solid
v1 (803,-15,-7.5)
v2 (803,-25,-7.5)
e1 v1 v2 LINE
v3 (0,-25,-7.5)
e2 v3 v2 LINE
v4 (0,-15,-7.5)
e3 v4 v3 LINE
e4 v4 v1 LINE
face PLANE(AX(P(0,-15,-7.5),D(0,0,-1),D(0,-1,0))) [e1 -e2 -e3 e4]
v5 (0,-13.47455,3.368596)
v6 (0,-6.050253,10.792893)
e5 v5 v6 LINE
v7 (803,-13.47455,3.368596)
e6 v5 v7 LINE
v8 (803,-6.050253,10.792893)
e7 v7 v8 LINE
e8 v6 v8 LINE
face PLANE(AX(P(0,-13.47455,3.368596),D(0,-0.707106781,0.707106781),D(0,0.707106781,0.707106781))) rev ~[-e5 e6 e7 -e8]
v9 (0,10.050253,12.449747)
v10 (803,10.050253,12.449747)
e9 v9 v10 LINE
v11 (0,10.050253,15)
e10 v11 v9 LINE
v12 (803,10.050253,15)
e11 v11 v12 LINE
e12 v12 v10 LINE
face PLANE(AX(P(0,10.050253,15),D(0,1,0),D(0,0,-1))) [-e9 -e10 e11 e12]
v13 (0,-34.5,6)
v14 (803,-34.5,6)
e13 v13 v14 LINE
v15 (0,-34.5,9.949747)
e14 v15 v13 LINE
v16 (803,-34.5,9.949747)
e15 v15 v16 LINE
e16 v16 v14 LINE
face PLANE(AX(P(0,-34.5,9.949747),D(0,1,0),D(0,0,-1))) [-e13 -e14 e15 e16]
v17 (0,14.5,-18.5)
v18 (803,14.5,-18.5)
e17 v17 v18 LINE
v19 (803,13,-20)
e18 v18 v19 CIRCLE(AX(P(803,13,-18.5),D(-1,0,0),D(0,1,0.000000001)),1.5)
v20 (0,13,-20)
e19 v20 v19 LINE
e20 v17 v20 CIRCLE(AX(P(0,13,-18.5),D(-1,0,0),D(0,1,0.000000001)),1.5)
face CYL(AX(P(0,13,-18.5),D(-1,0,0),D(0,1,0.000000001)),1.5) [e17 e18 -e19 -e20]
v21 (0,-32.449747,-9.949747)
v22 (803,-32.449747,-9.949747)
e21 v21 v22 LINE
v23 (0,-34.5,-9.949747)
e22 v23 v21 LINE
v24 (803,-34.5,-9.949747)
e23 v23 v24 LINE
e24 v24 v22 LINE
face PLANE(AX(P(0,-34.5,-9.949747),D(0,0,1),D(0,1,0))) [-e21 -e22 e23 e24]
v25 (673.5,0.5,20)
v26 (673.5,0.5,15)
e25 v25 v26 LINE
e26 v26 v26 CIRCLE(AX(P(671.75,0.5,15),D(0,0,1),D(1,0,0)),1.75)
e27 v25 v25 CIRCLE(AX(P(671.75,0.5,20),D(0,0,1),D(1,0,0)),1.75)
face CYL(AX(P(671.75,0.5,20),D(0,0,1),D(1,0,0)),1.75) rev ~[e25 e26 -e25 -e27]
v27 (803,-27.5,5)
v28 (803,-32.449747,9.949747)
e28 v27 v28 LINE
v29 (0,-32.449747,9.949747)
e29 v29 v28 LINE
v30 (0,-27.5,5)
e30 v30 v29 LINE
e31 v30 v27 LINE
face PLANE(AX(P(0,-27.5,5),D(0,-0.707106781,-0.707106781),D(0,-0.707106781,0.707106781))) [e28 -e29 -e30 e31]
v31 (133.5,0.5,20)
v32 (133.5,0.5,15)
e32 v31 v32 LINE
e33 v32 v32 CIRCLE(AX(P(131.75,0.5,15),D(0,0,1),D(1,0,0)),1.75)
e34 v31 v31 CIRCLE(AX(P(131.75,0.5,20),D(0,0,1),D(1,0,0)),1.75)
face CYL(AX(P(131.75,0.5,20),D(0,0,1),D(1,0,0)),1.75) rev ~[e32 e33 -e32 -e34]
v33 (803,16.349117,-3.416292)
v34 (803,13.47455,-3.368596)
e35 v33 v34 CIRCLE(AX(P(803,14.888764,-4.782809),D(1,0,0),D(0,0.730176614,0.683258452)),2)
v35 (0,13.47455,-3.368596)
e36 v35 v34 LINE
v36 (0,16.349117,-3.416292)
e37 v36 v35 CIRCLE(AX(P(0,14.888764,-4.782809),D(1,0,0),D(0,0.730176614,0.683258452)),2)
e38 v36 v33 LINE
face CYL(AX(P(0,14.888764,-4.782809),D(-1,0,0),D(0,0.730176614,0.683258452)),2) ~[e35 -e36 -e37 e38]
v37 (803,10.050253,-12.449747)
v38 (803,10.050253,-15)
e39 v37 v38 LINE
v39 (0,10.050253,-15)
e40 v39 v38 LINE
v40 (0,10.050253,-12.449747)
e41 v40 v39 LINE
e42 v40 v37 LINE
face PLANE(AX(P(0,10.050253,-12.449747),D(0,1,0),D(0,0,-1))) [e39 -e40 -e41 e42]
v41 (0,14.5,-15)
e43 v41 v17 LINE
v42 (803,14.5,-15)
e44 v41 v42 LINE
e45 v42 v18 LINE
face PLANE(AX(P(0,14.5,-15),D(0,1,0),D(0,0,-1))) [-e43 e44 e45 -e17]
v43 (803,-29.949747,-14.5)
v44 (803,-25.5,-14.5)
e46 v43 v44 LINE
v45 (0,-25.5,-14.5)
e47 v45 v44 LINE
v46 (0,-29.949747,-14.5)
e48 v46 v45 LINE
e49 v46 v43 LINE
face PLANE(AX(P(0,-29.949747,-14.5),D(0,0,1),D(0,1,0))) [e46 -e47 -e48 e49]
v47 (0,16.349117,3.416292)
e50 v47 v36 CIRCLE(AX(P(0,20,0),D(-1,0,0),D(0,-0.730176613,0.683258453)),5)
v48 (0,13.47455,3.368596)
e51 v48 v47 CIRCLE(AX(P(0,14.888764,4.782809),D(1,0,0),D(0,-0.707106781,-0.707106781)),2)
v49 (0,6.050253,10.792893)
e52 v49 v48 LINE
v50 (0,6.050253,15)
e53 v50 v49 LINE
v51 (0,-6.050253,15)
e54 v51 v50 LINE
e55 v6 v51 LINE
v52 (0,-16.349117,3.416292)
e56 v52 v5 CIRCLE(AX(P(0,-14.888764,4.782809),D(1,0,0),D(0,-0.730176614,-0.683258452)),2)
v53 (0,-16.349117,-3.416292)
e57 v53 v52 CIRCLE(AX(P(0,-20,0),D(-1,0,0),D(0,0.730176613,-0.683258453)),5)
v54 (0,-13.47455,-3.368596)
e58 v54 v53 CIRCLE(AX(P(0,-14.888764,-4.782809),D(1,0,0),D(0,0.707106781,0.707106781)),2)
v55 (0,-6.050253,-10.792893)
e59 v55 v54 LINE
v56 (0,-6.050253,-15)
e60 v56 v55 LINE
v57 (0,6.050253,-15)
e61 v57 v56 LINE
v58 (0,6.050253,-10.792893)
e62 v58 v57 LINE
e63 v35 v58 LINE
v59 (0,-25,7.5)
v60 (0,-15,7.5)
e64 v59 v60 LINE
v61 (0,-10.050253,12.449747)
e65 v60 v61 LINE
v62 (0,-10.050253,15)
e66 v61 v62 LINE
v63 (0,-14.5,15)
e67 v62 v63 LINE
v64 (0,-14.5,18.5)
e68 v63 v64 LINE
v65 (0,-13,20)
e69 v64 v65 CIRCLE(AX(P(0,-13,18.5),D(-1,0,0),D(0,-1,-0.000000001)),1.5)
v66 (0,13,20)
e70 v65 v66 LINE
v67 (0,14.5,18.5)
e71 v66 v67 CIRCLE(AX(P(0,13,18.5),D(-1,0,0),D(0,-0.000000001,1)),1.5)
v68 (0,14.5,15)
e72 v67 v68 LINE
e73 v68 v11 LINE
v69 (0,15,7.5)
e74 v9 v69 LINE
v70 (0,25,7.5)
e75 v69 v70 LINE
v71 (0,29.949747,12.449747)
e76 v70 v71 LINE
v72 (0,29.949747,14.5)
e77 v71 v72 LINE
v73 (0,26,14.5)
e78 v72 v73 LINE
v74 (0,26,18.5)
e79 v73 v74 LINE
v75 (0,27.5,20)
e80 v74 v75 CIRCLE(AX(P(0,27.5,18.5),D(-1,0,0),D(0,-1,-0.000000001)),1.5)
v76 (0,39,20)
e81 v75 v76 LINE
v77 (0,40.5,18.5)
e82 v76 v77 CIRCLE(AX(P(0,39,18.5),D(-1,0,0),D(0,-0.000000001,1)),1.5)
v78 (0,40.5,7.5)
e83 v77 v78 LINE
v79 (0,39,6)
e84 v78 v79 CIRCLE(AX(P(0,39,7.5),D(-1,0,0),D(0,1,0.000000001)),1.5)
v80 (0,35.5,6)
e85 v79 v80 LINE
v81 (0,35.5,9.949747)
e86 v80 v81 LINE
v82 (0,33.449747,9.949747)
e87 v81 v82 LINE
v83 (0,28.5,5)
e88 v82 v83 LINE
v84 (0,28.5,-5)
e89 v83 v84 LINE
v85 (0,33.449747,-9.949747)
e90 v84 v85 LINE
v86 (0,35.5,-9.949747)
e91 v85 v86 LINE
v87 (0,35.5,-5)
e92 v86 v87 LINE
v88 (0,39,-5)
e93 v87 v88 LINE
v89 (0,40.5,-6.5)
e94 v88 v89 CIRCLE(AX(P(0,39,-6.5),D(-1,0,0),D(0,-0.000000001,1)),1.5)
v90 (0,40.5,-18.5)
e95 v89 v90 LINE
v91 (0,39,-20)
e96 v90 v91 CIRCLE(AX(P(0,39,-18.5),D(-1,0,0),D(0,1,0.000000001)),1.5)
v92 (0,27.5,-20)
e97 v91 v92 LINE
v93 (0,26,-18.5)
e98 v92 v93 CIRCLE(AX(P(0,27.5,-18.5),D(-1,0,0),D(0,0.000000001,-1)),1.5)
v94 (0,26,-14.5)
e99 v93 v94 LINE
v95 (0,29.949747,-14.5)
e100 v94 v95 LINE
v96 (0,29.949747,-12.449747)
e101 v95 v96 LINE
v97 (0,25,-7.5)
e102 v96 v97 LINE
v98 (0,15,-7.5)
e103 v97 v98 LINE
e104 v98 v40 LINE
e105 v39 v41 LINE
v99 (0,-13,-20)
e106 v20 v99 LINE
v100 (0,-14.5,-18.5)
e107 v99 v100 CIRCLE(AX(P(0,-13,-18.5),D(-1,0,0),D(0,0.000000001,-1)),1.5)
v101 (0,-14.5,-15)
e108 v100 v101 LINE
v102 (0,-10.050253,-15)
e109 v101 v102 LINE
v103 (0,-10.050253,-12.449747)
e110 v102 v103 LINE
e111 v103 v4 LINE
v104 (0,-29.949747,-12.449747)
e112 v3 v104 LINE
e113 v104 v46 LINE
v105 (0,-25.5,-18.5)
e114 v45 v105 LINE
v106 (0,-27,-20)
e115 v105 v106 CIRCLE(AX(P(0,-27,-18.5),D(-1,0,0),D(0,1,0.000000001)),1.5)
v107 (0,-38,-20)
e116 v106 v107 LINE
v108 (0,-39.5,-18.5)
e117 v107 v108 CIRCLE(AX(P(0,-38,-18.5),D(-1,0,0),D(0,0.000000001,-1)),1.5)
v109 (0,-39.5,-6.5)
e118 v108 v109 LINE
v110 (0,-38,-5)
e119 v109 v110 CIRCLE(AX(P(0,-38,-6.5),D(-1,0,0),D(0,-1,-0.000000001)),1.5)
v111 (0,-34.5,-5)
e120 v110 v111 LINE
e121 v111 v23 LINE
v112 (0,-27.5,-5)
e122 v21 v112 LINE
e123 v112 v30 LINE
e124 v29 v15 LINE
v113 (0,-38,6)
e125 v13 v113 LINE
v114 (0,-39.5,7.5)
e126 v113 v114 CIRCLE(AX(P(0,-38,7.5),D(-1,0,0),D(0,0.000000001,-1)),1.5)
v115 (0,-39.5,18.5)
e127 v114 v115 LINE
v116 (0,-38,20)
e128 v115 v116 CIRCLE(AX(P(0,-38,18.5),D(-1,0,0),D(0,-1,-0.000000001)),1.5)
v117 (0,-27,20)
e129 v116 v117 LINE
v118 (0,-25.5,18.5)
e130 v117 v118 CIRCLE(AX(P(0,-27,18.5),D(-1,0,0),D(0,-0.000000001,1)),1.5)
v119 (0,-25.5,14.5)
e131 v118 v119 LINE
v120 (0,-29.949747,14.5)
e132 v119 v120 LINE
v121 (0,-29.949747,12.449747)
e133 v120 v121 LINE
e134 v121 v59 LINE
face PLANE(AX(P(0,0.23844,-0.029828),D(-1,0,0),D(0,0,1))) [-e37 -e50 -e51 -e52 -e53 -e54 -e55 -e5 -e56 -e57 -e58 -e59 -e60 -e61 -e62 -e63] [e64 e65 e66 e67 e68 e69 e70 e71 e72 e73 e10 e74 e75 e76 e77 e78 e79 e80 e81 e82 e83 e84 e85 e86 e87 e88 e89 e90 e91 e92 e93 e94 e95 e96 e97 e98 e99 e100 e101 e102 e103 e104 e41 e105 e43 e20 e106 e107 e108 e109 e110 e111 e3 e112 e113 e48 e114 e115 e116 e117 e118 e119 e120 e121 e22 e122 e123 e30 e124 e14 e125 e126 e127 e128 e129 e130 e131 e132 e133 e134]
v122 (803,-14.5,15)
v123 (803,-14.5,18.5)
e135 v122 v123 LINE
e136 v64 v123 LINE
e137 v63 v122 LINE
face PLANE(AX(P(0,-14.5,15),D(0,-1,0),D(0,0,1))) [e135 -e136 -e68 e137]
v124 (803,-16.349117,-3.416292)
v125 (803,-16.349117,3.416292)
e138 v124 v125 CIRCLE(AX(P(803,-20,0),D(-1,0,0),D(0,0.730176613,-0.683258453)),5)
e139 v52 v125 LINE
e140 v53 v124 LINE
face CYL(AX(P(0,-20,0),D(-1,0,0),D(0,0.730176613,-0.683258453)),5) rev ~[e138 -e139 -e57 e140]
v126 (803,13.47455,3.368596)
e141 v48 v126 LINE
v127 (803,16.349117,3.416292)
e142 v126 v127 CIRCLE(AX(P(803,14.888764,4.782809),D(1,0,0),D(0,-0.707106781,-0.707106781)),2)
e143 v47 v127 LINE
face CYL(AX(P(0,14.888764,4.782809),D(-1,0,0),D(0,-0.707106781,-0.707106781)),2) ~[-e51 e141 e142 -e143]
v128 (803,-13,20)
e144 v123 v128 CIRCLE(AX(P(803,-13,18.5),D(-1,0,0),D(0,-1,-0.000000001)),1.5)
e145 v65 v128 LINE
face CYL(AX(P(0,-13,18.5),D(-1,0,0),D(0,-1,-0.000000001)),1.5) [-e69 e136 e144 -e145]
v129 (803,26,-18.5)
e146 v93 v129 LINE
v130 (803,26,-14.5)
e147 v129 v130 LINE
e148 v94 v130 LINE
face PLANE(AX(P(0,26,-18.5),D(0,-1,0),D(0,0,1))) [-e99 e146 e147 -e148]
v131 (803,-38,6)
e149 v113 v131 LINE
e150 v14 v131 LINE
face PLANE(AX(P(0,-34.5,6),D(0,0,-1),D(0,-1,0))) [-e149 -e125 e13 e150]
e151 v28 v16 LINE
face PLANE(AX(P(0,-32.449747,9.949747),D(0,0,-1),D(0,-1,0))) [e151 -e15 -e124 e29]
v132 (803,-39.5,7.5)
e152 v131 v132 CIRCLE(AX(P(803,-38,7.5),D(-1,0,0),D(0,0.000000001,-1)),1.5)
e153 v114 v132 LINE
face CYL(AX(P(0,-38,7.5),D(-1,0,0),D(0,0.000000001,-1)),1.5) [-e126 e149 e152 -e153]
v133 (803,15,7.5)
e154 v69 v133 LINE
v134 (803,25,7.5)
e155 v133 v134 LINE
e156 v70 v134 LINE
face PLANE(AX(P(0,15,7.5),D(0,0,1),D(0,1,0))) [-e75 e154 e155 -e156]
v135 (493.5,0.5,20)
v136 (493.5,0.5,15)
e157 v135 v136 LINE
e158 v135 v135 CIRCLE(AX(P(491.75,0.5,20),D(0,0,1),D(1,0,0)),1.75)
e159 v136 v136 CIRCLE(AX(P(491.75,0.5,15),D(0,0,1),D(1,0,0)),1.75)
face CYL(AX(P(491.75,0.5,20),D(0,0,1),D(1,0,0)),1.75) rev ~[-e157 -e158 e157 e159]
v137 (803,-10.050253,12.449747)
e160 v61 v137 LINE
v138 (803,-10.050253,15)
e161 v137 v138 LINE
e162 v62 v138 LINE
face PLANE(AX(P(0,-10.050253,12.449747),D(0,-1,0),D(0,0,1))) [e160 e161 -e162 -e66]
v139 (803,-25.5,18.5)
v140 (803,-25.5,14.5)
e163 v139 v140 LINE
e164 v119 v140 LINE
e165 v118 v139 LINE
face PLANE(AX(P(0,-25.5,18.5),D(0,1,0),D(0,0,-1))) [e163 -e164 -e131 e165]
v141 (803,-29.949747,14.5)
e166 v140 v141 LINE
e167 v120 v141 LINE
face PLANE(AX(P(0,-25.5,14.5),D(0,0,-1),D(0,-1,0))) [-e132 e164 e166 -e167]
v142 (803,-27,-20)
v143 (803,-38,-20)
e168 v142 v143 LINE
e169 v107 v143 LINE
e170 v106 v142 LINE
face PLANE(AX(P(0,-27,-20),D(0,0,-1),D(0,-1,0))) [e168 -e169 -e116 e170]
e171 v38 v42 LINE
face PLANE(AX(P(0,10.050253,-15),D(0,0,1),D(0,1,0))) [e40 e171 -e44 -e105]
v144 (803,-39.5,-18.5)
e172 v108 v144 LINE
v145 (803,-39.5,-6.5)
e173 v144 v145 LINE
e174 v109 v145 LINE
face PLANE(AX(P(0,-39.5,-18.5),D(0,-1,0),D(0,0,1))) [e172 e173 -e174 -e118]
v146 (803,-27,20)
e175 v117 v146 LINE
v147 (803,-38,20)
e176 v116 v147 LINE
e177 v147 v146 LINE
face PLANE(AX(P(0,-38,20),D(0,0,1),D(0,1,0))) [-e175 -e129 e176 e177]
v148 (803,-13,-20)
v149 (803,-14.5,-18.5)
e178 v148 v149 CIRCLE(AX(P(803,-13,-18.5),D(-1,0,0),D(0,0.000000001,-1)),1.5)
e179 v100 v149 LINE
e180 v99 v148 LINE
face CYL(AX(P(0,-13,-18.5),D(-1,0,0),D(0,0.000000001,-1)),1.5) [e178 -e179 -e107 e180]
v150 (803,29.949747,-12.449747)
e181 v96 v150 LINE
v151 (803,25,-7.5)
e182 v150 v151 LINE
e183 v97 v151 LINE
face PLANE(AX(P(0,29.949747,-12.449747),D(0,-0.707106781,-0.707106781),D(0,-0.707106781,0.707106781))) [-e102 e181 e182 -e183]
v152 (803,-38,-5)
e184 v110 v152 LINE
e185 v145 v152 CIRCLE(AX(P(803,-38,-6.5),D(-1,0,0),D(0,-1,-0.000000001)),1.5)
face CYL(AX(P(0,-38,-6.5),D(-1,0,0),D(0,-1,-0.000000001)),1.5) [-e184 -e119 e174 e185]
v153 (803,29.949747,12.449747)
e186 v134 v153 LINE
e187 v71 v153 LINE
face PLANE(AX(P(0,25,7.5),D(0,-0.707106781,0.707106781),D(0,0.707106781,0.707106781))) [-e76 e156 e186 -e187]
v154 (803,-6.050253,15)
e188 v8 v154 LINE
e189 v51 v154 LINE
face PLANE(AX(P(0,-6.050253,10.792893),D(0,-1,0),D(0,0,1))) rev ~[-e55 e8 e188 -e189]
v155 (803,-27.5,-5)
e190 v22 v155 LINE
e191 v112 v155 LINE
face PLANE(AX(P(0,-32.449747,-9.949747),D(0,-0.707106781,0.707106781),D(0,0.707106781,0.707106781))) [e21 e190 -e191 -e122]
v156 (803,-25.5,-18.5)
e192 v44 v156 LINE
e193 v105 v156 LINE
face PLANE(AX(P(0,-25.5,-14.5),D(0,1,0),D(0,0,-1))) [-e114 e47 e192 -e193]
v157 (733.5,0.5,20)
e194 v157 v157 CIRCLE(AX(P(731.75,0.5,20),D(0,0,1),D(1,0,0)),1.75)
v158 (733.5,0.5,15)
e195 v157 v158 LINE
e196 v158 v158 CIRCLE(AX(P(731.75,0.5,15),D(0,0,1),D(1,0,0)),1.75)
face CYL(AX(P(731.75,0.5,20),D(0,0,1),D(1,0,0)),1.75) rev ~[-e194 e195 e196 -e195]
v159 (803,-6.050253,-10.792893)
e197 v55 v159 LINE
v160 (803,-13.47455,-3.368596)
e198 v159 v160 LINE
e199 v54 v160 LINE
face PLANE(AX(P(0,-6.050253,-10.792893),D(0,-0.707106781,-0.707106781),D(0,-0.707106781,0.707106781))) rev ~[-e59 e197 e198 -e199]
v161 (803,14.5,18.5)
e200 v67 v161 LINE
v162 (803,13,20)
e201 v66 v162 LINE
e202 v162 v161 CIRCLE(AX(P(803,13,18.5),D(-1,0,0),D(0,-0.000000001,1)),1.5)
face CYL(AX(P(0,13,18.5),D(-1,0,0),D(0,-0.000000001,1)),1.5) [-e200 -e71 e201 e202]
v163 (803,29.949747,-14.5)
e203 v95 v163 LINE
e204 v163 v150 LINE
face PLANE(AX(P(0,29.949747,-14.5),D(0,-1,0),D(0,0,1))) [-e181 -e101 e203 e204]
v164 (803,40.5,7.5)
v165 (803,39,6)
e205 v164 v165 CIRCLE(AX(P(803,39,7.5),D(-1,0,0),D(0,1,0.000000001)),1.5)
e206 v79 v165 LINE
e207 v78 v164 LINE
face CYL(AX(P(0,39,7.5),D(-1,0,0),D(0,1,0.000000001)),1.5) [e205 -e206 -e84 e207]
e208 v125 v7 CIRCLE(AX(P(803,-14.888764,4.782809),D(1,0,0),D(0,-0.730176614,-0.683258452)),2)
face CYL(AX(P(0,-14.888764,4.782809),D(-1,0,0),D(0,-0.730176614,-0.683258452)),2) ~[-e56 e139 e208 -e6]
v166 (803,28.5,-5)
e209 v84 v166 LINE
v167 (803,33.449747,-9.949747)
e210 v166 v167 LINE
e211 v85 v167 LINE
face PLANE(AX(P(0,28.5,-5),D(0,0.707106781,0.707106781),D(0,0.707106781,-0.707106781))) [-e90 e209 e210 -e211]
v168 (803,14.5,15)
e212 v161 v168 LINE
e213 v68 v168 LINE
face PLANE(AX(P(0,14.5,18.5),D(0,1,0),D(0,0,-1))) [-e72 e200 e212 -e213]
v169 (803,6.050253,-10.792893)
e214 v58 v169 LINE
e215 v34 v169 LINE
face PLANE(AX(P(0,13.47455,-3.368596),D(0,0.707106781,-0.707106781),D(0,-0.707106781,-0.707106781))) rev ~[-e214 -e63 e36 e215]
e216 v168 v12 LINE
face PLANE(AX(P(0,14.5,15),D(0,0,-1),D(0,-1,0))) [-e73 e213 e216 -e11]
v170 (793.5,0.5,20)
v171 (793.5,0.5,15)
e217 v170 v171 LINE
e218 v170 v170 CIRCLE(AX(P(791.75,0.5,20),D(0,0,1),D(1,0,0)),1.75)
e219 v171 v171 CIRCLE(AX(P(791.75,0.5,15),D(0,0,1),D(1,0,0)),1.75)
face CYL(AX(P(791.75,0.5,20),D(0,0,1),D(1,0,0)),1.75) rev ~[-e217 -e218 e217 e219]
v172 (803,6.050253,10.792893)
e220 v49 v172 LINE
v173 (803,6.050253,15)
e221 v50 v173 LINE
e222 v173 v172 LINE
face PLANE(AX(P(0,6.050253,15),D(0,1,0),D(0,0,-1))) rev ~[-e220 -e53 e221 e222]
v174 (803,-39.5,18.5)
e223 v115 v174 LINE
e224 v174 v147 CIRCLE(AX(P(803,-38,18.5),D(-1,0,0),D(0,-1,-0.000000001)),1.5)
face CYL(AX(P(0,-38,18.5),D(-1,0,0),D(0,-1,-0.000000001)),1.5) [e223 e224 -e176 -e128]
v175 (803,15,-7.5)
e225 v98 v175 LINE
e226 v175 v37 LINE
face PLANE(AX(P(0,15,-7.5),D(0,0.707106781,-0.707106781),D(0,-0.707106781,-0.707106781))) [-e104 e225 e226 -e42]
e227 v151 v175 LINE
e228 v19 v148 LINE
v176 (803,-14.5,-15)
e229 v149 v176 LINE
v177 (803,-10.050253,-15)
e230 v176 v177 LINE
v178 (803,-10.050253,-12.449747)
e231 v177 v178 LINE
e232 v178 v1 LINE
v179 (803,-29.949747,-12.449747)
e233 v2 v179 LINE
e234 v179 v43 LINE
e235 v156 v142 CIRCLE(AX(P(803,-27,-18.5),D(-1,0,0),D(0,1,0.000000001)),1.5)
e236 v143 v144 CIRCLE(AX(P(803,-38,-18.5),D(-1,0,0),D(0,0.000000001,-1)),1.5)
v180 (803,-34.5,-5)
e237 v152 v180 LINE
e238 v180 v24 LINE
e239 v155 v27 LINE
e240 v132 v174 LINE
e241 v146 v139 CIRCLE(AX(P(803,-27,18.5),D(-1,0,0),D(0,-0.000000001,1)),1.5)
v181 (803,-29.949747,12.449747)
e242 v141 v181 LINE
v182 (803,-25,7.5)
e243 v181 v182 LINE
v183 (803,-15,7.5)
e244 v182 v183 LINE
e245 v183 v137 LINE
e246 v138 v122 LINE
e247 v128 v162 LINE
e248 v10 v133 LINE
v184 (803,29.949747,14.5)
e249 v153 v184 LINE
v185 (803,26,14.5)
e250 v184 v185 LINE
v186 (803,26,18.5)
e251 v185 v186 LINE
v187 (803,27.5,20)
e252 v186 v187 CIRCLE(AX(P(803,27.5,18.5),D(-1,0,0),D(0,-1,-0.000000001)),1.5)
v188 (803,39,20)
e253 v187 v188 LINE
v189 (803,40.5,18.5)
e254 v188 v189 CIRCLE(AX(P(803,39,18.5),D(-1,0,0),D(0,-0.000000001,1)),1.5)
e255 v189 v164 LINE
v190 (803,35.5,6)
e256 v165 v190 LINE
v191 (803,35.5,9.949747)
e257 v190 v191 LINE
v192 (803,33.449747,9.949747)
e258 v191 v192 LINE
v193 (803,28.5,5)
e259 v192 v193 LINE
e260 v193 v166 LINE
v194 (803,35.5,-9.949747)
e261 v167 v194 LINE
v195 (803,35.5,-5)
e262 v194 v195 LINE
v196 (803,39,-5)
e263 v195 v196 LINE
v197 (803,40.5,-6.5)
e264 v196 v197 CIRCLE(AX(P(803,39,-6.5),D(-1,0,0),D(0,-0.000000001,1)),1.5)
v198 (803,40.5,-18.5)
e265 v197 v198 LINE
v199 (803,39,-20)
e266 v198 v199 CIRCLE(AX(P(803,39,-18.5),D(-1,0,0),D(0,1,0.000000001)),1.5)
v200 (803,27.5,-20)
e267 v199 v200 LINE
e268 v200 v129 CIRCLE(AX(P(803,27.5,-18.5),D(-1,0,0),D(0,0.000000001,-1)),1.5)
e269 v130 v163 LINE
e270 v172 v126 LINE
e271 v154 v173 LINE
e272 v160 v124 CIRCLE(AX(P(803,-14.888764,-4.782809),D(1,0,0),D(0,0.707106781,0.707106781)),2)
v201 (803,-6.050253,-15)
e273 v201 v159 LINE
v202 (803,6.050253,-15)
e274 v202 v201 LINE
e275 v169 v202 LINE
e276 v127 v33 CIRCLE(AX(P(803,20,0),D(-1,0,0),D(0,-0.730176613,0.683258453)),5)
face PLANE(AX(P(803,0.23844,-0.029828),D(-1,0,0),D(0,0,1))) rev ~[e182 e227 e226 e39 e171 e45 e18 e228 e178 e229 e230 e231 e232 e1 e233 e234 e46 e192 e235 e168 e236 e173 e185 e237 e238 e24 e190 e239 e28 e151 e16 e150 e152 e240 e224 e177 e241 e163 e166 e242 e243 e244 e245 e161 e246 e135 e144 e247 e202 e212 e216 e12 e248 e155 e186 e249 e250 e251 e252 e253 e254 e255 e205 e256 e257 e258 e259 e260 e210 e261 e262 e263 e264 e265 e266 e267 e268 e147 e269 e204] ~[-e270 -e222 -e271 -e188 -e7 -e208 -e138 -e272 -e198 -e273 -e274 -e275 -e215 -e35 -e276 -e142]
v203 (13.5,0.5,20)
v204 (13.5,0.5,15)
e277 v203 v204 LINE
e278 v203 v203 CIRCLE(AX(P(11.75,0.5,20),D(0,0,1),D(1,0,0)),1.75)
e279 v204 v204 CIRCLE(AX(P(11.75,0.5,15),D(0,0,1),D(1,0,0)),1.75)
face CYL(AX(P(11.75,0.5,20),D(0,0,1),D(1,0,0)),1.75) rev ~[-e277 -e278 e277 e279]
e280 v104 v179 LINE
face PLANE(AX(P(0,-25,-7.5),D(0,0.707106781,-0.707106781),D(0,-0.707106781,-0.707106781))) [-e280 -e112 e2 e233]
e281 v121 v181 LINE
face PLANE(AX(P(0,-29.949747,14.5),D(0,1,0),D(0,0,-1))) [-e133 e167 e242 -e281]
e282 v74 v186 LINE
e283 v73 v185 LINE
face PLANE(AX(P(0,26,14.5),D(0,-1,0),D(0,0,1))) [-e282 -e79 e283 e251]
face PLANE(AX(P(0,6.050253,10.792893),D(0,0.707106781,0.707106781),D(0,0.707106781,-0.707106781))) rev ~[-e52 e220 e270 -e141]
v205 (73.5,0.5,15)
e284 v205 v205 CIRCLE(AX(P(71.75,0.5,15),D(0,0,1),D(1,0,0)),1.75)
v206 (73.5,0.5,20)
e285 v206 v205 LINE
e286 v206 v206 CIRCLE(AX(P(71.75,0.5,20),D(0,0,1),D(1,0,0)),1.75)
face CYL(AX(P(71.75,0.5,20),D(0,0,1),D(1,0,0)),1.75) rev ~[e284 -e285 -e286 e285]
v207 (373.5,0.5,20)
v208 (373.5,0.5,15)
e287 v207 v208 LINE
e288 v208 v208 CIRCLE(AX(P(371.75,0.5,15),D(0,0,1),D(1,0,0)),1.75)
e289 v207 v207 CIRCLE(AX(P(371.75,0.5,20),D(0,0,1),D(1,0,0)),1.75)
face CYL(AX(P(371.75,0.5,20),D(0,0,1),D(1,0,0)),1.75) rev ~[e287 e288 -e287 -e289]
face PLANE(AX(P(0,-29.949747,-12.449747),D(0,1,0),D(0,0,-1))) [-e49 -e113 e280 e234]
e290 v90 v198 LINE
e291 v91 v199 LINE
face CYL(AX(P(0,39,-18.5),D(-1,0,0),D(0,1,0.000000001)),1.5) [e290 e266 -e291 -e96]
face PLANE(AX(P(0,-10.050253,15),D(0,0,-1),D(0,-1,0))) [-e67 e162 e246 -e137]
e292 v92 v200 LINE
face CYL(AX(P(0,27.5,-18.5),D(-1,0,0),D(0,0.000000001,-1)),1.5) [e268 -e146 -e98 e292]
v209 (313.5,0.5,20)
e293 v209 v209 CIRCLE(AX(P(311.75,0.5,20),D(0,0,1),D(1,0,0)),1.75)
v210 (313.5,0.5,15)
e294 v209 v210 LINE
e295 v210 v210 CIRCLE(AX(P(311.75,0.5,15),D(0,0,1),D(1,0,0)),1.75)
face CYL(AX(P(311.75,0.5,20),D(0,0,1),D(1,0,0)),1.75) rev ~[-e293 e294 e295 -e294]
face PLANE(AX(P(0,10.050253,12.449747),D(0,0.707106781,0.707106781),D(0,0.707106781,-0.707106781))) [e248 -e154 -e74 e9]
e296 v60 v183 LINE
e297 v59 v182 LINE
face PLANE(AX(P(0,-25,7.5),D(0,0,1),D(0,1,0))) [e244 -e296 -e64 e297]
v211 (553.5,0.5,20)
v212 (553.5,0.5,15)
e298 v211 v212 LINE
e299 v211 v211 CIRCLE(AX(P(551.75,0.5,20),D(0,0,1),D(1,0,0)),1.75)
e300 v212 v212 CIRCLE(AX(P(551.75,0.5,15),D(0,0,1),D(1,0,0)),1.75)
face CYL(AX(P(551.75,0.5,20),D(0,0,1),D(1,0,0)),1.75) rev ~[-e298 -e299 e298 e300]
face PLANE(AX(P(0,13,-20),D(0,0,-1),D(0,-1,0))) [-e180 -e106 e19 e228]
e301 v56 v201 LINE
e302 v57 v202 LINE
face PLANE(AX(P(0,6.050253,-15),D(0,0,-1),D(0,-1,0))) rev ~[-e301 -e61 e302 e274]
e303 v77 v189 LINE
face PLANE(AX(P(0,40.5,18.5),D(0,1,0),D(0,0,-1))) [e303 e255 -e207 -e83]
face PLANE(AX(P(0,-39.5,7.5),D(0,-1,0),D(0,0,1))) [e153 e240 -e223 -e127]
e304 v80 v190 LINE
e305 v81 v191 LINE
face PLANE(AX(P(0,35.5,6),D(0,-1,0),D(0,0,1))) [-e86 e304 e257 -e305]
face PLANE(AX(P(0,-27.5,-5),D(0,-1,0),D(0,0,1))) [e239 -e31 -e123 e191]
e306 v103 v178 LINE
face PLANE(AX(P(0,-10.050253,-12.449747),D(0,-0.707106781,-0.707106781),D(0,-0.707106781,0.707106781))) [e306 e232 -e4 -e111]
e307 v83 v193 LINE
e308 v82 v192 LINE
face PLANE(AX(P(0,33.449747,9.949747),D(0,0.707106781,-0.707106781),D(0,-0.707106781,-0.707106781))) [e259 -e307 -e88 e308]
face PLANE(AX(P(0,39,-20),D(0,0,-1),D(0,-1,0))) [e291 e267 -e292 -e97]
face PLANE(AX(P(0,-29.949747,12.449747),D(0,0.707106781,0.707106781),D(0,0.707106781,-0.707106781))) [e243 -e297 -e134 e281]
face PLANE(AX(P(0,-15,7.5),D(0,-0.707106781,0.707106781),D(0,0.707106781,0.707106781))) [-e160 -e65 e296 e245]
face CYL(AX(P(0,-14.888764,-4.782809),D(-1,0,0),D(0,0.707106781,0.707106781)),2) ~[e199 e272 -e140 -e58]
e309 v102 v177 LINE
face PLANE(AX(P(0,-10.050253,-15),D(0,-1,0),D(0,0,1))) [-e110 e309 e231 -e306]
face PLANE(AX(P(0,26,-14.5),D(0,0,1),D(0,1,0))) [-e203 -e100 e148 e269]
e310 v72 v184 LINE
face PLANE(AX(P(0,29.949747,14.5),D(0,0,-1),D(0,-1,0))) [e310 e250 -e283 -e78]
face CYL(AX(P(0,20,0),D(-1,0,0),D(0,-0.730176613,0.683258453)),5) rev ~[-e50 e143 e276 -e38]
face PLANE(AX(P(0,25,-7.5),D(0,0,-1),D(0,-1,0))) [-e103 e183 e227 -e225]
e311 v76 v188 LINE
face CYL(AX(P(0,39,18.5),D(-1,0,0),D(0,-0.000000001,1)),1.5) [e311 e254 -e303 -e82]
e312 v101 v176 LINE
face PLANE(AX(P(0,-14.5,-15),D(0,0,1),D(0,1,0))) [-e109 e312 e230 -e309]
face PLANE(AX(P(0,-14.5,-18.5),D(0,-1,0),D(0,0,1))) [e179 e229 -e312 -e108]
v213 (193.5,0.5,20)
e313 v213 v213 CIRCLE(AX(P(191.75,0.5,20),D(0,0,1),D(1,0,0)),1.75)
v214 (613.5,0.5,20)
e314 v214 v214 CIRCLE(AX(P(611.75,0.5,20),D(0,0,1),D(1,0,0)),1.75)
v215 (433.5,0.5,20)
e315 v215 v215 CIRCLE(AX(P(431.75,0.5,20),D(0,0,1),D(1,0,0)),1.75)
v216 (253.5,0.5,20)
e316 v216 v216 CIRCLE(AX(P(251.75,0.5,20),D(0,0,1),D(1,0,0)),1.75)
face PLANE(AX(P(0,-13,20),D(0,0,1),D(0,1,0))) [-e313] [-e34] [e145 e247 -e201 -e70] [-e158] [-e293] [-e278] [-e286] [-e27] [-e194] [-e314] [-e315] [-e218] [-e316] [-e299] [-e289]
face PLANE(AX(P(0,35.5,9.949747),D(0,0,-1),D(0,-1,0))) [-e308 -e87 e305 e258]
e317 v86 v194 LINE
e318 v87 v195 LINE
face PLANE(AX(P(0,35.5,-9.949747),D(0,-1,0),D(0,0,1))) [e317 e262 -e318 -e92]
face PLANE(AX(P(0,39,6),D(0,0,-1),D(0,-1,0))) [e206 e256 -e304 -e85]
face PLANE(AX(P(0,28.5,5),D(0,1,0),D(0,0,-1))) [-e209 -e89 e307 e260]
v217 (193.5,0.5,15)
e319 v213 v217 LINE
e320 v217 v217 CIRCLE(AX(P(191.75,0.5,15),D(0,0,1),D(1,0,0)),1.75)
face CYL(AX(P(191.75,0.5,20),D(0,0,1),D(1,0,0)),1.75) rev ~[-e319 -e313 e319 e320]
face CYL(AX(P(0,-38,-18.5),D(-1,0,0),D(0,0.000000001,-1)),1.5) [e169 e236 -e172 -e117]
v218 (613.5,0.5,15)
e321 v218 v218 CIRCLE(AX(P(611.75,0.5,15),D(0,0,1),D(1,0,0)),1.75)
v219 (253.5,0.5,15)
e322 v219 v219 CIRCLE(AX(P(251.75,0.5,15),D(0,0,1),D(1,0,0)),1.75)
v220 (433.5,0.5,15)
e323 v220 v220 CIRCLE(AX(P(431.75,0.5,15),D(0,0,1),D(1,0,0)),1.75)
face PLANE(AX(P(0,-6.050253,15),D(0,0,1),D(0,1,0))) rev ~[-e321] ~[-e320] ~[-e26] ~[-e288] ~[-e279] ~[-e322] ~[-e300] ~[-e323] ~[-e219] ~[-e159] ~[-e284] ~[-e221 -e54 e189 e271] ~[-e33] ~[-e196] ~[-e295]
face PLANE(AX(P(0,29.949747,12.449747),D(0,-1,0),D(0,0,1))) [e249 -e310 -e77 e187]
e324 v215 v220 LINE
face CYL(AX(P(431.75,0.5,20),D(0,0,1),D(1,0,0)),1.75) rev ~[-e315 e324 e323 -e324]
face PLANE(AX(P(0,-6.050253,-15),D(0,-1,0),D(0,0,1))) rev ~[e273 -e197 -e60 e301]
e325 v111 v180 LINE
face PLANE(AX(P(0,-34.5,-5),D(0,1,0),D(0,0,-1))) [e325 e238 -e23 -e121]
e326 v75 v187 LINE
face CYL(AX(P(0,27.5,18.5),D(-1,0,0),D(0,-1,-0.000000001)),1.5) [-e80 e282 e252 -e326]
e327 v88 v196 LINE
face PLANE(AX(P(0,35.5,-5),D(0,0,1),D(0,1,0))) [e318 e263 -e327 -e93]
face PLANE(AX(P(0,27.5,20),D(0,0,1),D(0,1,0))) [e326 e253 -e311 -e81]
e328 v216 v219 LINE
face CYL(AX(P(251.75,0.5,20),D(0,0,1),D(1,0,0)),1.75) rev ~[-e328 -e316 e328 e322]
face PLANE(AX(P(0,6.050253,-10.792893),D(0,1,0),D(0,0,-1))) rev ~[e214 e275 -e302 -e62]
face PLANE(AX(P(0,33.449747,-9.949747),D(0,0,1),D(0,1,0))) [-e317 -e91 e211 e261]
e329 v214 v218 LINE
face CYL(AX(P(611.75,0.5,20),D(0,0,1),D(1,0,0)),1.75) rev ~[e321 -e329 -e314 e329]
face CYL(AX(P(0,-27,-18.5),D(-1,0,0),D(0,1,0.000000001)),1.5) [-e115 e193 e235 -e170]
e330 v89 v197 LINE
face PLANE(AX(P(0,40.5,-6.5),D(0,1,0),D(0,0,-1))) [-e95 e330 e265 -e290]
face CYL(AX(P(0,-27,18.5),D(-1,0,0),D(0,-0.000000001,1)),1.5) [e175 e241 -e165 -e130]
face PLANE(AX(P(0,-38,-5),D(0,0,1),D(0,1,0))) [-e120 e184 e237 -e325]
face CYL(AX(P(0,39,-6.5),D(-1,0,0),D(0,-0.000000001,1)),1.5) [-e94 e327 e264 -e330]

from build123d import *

# Parameters (mm, degrees)
ESTRUSIONE_ESTRUSIONE1_DEPTH = 803
SCHIZZO2_R                   = 1.75
TAGLIO_ESTRUSIONE1_DEPTH     = 10


with BuildPart() as part:
    # Schizzo1 → Estrusione-Estrusione1 (new body)
    with BuildSketch(Plane(origin=(0, 0, 0), x_dir=(0, 0, -1), z_dir=(1, 0, 0))):
        with BuildLine():
            Line((18.5, -39.5), (6.5, -39.5))
            ThreePointArc((6.5, -39.5), (5.439339828, -39.060660172), (5, -38))
            Line((5, -38), (5, -34.5))
            Line((5, -34.5), (9.949747468, -34.5))
            Line((9.949747468, -34.5), (9.949747468, -32.449747468))
            Line((9.949747468, -32.449747468), (5, -27.5))
            Line((5, -27.5), (-5, -27.5))
            Line((-5, -27.5), (-9.949747468, -32.449747468))
            Line((-9.949747468, -32.449747468), (-9.949747468, -34.5))
            Line((-9.949747468, -34.5), (-6, -34.5))
            Line((-6, -34.5), (-6, -38))
            ThreePointArc((-6, -38), (-6.439339828, -39.060660172), (-7.5, -39.5))
            Line((-7.5, -39.5), (-18.5, -39.5))
            ThreePointArc((-18.5, -39.5), (-19.560660172, -39.060660172), (-20, -38))
            Line((-20, -38), (-20, -27))
            ThreePointArc((-20, -27), (-19.560660172, -25.939339828), (-18.5, -25.5))
            Line((-18.5, -25.5), (-14.5, -25.5))
            Line((-14.5, -25.5), (-14.5, -29.949747468))
            Line((-14.5, -29.949747468), (-12.449747468, -29.949747468))
            Line((-12.449747468, -29.949747468), (-7.5, -25))
            Line((-7.5, -25), (-7.5, -15))
            Line((-7.5, -15), (-12.449747468, -10.050252532))
            Line((-12.449747468, -10.050252532), (-15, -10.050252532))
            Line((-15, -10.050252532), (-15, -14.5))
            Line((-15, -14.5), (-18.5, -14.5))
            ThreePointArc((-18.5, -14.5), (-19.560660172, -14.060660172), (-20, -13))
            Line((-20, -13), (-20, 13))
            ThreePointArc((-20, 13), (-19.560660172, 14.060660172), (-18.5, 14.5))
            Line((-18.5, 14.5), (-15, 14.5))
            Line((-15, 14.5), (-15, 10.050252532))
            Line((-15, 10.050252532), (-12.449747468, 10.050252532))
            Line((-12.449747468, 10.050252532), (-7.5, 15))
            Line((-7.5, 15), (-7.5, 25))
            Line((-7.5, 25), (-12.449747468, 29.949747468))
            Line((-12.449747468, 29.949747468), (-14.5, 29.949747468))
            Line((-14.5, 29.949747468), (-14.5, 26))
            Line((-14.5, 26), (-18.5, 26))
            ThreePointArc((-18.5, 26), (-19.560660172, 26.439339828), (-20, 27.5))
            Line((-20, 27.5), (-20, 39))
            ThreePointArc((-20, 39), (-19.560660172, 40.060660172), (-18.5, 40.5))
            Line((-18.5, 40.5), (-7.5, 40.5))
            ThreePointArc((-7.5, 40.5), (-6.439339828, 40.060660172), (-6, 39))
            Line((-6, 39), (-6, 35.5))
            Line((-6, 35.5), (-9.949747468, 35.5))
            Line((-9.949747468, 35.5), (-9.949747468, 33.449747468))
            Line((-9.949747468, 33.449747468), (-5, 28.5))
            Line((-5, 28.5), (5, 28.5))
            Line((5, 28.5), (9.949747468, 33.449747468))
            Line((9.949747468, 33.449747468), (9.949747468, 35.5))
            Line((9.949747468, 35.5), (5, 35.5))
            Line((5, 35.5), (5, 39))
            ThreePointArc((5, 39), (5.439339828, 40.060660172), (6.5, 40.5))
            Line((6.5, 40.5), (18.5, 40.5))
            ThreePointArc((18.5, 40.5), (19.560660172, 40.060660172), (20, 39))
            Line((20, 39), (20, 27.5))
            ThreePointArc((20, 27.5), (19.560660172, 26.439339828), (18.5, 26))
            Line((18.5, 26), (14.5, 26))
            Line((14.5, 26), (14.5, 29.949747468))
            Line((14.5, 29.949747468), (12.449747468, 29.949747468))
            Line((12.449747468, 29.949747468), (7.5, 25))
            Line((7.5, 25), (7.5, 15))
            Line((7.5, 15), (12.449747468, 10.050252532))
            Line((12.449747468, 10.050252532), (15, 10.050252532))
            Line((15, 10.050252532), (15, 14.5))
            Line((15, 14.5), (18.5, 14.5))
            ThreePointArc((18.5, 14.5), (19.560660172, 14.060660172), (20, 13))
            Line((20, 13), (20, -13))
            ThreePointArc((20, -13), (19.560660172, -14.060660172), (18.5, -14.5))
            Line((18.5, -14.5), (15, -14.5))
            Line((15, -14.5), (15, -10.050252532))
            Line((15, -10.050252532), (12.449747468, -10.050252532))
            Line((12.449747468, -10.050252532), (7.5, -15))
            Line((7.5, -15), (7.5, -25))
            Line((7.5, -25), (12.449747468, -29.949747468))
            Line((12.449747468, -29.949747468), (14.5, -29.949747468))
            Line((14.5, -29.949747468), (14.5, -25.5))
            Line((14.5, -25.5), (18.5, -25.5))
            ThreePointArc((18.5, -25.5), (19.560660172, -25.939339828), (20, -27))
            Line((20, -27), (20, -38))
            ThreePointArc((20, -38), (19.560660172, -39.060660172), (18.5, -39.5))
        make_face()
        with BuildLine():
            Line((-15, 6.050252532), (-10.792893219, 6.050252532))
            Line((-10.792893219, 6.050252532), (-3.368595607, 13.474550144))
            ThreePointArc((-3.368595607, 13.474550144), (-2.783084428, 14.921944422), (-3.416292264, 16.349116933))
            ThreePointArc((-3.416292264, 16.349116933), (0, 25), (3.416292264, 16.349116933))
            ThreePointArc((3.416292264, 16.349116933), (2.783084428, 14.921944422), (3.368595607, 13.474550144))
            Line((3.368595607, 13.474550144), (10.792893219, 6.050252532))
            Line((10.792893219, 6.050252532), (15, 6.050252532))
            Line((15, 6.050252532), (15, -6.050252532))
            Line((15, -6.050252532), (10.792893219, -6.050252532))
            Line((10.792893219, -6.050252532), (3.368595607, -13.474550144))
            ThreePointArc((3.368595607, -13.474550144), (2.783084428, -14.921944422), (3.416292264, -16.349116933))
            ThreePointArc((3.416292264, -16.349116933), (0, -25), (-3.416292264, -16.349116933))
            ThreePointArc((-3.416292264, -16.349116933), (-2.783084428, -14.921944422), (-3.368595607, -13.474550144))
            Line((-3.368595607, -13.474550144), (-10.792893219, -6.050252532))
            Line((-10.792893219, -6.050252532), (-15, -6.050252532))
            Line((-15, -6.050252532), (-15, 6.050252532))
        make_face(mode=Mode.SUBTRACT)
    extrude(amount=ESTRUSIONE_ESTRUSIONE1_DEPTH)

    # Schizzo2 → Taglio-Estrusione1 (cut)
    with BuildSketch(Plane.XY.offset(20)):
        with Locations((791.75, 0.5)):
            Circle(SCHIZZO2_R)
        with Locations((731.75, 0.5)):
            Circle(SCHIZZO2_R)
        with Locations((671.75, 0.5)):
            Circle(SCHIZZO2_R)
        with Locations((611.75, 0.5)):
            Circle(SCHIZZO2_R)
        with Locations((551.75, 0.5)):
            Circle(SCHIZZO2_R)
        with Locations((491.75, 0.5)):
            Circle(SCHIZZO2_R)
        with Locations((431.75, 0.5)):
            Circle(SCHIZZO2_R)
        with Locations((371.75, 0.5)):
            Circle(SCHIZZO2_R)
        with Locations((311.75, 0.5)):
            Circle(SCHIZZO2_R)
        with Locations((251.75, 0.5)):
            Circle(SCHIZZO2_R)
        with Locations((191.75, 0.5)):
            Circle(SCHIZZO2_R)
        with Locations((131.75, 0.5)):
            Circle(SCHIZZO2_R)
        with Locations((71.75, 0.5)):
            Circle(SCHIZZO2_R)
        with Locations((11.75, 0.5)):
            Circle(SCHIZZO2_R)
    extrude(amount=-TAGLIO_ESTRUSIONE1_DEPTH, mode=Mode.SUBTRACT)


solid = part.part
